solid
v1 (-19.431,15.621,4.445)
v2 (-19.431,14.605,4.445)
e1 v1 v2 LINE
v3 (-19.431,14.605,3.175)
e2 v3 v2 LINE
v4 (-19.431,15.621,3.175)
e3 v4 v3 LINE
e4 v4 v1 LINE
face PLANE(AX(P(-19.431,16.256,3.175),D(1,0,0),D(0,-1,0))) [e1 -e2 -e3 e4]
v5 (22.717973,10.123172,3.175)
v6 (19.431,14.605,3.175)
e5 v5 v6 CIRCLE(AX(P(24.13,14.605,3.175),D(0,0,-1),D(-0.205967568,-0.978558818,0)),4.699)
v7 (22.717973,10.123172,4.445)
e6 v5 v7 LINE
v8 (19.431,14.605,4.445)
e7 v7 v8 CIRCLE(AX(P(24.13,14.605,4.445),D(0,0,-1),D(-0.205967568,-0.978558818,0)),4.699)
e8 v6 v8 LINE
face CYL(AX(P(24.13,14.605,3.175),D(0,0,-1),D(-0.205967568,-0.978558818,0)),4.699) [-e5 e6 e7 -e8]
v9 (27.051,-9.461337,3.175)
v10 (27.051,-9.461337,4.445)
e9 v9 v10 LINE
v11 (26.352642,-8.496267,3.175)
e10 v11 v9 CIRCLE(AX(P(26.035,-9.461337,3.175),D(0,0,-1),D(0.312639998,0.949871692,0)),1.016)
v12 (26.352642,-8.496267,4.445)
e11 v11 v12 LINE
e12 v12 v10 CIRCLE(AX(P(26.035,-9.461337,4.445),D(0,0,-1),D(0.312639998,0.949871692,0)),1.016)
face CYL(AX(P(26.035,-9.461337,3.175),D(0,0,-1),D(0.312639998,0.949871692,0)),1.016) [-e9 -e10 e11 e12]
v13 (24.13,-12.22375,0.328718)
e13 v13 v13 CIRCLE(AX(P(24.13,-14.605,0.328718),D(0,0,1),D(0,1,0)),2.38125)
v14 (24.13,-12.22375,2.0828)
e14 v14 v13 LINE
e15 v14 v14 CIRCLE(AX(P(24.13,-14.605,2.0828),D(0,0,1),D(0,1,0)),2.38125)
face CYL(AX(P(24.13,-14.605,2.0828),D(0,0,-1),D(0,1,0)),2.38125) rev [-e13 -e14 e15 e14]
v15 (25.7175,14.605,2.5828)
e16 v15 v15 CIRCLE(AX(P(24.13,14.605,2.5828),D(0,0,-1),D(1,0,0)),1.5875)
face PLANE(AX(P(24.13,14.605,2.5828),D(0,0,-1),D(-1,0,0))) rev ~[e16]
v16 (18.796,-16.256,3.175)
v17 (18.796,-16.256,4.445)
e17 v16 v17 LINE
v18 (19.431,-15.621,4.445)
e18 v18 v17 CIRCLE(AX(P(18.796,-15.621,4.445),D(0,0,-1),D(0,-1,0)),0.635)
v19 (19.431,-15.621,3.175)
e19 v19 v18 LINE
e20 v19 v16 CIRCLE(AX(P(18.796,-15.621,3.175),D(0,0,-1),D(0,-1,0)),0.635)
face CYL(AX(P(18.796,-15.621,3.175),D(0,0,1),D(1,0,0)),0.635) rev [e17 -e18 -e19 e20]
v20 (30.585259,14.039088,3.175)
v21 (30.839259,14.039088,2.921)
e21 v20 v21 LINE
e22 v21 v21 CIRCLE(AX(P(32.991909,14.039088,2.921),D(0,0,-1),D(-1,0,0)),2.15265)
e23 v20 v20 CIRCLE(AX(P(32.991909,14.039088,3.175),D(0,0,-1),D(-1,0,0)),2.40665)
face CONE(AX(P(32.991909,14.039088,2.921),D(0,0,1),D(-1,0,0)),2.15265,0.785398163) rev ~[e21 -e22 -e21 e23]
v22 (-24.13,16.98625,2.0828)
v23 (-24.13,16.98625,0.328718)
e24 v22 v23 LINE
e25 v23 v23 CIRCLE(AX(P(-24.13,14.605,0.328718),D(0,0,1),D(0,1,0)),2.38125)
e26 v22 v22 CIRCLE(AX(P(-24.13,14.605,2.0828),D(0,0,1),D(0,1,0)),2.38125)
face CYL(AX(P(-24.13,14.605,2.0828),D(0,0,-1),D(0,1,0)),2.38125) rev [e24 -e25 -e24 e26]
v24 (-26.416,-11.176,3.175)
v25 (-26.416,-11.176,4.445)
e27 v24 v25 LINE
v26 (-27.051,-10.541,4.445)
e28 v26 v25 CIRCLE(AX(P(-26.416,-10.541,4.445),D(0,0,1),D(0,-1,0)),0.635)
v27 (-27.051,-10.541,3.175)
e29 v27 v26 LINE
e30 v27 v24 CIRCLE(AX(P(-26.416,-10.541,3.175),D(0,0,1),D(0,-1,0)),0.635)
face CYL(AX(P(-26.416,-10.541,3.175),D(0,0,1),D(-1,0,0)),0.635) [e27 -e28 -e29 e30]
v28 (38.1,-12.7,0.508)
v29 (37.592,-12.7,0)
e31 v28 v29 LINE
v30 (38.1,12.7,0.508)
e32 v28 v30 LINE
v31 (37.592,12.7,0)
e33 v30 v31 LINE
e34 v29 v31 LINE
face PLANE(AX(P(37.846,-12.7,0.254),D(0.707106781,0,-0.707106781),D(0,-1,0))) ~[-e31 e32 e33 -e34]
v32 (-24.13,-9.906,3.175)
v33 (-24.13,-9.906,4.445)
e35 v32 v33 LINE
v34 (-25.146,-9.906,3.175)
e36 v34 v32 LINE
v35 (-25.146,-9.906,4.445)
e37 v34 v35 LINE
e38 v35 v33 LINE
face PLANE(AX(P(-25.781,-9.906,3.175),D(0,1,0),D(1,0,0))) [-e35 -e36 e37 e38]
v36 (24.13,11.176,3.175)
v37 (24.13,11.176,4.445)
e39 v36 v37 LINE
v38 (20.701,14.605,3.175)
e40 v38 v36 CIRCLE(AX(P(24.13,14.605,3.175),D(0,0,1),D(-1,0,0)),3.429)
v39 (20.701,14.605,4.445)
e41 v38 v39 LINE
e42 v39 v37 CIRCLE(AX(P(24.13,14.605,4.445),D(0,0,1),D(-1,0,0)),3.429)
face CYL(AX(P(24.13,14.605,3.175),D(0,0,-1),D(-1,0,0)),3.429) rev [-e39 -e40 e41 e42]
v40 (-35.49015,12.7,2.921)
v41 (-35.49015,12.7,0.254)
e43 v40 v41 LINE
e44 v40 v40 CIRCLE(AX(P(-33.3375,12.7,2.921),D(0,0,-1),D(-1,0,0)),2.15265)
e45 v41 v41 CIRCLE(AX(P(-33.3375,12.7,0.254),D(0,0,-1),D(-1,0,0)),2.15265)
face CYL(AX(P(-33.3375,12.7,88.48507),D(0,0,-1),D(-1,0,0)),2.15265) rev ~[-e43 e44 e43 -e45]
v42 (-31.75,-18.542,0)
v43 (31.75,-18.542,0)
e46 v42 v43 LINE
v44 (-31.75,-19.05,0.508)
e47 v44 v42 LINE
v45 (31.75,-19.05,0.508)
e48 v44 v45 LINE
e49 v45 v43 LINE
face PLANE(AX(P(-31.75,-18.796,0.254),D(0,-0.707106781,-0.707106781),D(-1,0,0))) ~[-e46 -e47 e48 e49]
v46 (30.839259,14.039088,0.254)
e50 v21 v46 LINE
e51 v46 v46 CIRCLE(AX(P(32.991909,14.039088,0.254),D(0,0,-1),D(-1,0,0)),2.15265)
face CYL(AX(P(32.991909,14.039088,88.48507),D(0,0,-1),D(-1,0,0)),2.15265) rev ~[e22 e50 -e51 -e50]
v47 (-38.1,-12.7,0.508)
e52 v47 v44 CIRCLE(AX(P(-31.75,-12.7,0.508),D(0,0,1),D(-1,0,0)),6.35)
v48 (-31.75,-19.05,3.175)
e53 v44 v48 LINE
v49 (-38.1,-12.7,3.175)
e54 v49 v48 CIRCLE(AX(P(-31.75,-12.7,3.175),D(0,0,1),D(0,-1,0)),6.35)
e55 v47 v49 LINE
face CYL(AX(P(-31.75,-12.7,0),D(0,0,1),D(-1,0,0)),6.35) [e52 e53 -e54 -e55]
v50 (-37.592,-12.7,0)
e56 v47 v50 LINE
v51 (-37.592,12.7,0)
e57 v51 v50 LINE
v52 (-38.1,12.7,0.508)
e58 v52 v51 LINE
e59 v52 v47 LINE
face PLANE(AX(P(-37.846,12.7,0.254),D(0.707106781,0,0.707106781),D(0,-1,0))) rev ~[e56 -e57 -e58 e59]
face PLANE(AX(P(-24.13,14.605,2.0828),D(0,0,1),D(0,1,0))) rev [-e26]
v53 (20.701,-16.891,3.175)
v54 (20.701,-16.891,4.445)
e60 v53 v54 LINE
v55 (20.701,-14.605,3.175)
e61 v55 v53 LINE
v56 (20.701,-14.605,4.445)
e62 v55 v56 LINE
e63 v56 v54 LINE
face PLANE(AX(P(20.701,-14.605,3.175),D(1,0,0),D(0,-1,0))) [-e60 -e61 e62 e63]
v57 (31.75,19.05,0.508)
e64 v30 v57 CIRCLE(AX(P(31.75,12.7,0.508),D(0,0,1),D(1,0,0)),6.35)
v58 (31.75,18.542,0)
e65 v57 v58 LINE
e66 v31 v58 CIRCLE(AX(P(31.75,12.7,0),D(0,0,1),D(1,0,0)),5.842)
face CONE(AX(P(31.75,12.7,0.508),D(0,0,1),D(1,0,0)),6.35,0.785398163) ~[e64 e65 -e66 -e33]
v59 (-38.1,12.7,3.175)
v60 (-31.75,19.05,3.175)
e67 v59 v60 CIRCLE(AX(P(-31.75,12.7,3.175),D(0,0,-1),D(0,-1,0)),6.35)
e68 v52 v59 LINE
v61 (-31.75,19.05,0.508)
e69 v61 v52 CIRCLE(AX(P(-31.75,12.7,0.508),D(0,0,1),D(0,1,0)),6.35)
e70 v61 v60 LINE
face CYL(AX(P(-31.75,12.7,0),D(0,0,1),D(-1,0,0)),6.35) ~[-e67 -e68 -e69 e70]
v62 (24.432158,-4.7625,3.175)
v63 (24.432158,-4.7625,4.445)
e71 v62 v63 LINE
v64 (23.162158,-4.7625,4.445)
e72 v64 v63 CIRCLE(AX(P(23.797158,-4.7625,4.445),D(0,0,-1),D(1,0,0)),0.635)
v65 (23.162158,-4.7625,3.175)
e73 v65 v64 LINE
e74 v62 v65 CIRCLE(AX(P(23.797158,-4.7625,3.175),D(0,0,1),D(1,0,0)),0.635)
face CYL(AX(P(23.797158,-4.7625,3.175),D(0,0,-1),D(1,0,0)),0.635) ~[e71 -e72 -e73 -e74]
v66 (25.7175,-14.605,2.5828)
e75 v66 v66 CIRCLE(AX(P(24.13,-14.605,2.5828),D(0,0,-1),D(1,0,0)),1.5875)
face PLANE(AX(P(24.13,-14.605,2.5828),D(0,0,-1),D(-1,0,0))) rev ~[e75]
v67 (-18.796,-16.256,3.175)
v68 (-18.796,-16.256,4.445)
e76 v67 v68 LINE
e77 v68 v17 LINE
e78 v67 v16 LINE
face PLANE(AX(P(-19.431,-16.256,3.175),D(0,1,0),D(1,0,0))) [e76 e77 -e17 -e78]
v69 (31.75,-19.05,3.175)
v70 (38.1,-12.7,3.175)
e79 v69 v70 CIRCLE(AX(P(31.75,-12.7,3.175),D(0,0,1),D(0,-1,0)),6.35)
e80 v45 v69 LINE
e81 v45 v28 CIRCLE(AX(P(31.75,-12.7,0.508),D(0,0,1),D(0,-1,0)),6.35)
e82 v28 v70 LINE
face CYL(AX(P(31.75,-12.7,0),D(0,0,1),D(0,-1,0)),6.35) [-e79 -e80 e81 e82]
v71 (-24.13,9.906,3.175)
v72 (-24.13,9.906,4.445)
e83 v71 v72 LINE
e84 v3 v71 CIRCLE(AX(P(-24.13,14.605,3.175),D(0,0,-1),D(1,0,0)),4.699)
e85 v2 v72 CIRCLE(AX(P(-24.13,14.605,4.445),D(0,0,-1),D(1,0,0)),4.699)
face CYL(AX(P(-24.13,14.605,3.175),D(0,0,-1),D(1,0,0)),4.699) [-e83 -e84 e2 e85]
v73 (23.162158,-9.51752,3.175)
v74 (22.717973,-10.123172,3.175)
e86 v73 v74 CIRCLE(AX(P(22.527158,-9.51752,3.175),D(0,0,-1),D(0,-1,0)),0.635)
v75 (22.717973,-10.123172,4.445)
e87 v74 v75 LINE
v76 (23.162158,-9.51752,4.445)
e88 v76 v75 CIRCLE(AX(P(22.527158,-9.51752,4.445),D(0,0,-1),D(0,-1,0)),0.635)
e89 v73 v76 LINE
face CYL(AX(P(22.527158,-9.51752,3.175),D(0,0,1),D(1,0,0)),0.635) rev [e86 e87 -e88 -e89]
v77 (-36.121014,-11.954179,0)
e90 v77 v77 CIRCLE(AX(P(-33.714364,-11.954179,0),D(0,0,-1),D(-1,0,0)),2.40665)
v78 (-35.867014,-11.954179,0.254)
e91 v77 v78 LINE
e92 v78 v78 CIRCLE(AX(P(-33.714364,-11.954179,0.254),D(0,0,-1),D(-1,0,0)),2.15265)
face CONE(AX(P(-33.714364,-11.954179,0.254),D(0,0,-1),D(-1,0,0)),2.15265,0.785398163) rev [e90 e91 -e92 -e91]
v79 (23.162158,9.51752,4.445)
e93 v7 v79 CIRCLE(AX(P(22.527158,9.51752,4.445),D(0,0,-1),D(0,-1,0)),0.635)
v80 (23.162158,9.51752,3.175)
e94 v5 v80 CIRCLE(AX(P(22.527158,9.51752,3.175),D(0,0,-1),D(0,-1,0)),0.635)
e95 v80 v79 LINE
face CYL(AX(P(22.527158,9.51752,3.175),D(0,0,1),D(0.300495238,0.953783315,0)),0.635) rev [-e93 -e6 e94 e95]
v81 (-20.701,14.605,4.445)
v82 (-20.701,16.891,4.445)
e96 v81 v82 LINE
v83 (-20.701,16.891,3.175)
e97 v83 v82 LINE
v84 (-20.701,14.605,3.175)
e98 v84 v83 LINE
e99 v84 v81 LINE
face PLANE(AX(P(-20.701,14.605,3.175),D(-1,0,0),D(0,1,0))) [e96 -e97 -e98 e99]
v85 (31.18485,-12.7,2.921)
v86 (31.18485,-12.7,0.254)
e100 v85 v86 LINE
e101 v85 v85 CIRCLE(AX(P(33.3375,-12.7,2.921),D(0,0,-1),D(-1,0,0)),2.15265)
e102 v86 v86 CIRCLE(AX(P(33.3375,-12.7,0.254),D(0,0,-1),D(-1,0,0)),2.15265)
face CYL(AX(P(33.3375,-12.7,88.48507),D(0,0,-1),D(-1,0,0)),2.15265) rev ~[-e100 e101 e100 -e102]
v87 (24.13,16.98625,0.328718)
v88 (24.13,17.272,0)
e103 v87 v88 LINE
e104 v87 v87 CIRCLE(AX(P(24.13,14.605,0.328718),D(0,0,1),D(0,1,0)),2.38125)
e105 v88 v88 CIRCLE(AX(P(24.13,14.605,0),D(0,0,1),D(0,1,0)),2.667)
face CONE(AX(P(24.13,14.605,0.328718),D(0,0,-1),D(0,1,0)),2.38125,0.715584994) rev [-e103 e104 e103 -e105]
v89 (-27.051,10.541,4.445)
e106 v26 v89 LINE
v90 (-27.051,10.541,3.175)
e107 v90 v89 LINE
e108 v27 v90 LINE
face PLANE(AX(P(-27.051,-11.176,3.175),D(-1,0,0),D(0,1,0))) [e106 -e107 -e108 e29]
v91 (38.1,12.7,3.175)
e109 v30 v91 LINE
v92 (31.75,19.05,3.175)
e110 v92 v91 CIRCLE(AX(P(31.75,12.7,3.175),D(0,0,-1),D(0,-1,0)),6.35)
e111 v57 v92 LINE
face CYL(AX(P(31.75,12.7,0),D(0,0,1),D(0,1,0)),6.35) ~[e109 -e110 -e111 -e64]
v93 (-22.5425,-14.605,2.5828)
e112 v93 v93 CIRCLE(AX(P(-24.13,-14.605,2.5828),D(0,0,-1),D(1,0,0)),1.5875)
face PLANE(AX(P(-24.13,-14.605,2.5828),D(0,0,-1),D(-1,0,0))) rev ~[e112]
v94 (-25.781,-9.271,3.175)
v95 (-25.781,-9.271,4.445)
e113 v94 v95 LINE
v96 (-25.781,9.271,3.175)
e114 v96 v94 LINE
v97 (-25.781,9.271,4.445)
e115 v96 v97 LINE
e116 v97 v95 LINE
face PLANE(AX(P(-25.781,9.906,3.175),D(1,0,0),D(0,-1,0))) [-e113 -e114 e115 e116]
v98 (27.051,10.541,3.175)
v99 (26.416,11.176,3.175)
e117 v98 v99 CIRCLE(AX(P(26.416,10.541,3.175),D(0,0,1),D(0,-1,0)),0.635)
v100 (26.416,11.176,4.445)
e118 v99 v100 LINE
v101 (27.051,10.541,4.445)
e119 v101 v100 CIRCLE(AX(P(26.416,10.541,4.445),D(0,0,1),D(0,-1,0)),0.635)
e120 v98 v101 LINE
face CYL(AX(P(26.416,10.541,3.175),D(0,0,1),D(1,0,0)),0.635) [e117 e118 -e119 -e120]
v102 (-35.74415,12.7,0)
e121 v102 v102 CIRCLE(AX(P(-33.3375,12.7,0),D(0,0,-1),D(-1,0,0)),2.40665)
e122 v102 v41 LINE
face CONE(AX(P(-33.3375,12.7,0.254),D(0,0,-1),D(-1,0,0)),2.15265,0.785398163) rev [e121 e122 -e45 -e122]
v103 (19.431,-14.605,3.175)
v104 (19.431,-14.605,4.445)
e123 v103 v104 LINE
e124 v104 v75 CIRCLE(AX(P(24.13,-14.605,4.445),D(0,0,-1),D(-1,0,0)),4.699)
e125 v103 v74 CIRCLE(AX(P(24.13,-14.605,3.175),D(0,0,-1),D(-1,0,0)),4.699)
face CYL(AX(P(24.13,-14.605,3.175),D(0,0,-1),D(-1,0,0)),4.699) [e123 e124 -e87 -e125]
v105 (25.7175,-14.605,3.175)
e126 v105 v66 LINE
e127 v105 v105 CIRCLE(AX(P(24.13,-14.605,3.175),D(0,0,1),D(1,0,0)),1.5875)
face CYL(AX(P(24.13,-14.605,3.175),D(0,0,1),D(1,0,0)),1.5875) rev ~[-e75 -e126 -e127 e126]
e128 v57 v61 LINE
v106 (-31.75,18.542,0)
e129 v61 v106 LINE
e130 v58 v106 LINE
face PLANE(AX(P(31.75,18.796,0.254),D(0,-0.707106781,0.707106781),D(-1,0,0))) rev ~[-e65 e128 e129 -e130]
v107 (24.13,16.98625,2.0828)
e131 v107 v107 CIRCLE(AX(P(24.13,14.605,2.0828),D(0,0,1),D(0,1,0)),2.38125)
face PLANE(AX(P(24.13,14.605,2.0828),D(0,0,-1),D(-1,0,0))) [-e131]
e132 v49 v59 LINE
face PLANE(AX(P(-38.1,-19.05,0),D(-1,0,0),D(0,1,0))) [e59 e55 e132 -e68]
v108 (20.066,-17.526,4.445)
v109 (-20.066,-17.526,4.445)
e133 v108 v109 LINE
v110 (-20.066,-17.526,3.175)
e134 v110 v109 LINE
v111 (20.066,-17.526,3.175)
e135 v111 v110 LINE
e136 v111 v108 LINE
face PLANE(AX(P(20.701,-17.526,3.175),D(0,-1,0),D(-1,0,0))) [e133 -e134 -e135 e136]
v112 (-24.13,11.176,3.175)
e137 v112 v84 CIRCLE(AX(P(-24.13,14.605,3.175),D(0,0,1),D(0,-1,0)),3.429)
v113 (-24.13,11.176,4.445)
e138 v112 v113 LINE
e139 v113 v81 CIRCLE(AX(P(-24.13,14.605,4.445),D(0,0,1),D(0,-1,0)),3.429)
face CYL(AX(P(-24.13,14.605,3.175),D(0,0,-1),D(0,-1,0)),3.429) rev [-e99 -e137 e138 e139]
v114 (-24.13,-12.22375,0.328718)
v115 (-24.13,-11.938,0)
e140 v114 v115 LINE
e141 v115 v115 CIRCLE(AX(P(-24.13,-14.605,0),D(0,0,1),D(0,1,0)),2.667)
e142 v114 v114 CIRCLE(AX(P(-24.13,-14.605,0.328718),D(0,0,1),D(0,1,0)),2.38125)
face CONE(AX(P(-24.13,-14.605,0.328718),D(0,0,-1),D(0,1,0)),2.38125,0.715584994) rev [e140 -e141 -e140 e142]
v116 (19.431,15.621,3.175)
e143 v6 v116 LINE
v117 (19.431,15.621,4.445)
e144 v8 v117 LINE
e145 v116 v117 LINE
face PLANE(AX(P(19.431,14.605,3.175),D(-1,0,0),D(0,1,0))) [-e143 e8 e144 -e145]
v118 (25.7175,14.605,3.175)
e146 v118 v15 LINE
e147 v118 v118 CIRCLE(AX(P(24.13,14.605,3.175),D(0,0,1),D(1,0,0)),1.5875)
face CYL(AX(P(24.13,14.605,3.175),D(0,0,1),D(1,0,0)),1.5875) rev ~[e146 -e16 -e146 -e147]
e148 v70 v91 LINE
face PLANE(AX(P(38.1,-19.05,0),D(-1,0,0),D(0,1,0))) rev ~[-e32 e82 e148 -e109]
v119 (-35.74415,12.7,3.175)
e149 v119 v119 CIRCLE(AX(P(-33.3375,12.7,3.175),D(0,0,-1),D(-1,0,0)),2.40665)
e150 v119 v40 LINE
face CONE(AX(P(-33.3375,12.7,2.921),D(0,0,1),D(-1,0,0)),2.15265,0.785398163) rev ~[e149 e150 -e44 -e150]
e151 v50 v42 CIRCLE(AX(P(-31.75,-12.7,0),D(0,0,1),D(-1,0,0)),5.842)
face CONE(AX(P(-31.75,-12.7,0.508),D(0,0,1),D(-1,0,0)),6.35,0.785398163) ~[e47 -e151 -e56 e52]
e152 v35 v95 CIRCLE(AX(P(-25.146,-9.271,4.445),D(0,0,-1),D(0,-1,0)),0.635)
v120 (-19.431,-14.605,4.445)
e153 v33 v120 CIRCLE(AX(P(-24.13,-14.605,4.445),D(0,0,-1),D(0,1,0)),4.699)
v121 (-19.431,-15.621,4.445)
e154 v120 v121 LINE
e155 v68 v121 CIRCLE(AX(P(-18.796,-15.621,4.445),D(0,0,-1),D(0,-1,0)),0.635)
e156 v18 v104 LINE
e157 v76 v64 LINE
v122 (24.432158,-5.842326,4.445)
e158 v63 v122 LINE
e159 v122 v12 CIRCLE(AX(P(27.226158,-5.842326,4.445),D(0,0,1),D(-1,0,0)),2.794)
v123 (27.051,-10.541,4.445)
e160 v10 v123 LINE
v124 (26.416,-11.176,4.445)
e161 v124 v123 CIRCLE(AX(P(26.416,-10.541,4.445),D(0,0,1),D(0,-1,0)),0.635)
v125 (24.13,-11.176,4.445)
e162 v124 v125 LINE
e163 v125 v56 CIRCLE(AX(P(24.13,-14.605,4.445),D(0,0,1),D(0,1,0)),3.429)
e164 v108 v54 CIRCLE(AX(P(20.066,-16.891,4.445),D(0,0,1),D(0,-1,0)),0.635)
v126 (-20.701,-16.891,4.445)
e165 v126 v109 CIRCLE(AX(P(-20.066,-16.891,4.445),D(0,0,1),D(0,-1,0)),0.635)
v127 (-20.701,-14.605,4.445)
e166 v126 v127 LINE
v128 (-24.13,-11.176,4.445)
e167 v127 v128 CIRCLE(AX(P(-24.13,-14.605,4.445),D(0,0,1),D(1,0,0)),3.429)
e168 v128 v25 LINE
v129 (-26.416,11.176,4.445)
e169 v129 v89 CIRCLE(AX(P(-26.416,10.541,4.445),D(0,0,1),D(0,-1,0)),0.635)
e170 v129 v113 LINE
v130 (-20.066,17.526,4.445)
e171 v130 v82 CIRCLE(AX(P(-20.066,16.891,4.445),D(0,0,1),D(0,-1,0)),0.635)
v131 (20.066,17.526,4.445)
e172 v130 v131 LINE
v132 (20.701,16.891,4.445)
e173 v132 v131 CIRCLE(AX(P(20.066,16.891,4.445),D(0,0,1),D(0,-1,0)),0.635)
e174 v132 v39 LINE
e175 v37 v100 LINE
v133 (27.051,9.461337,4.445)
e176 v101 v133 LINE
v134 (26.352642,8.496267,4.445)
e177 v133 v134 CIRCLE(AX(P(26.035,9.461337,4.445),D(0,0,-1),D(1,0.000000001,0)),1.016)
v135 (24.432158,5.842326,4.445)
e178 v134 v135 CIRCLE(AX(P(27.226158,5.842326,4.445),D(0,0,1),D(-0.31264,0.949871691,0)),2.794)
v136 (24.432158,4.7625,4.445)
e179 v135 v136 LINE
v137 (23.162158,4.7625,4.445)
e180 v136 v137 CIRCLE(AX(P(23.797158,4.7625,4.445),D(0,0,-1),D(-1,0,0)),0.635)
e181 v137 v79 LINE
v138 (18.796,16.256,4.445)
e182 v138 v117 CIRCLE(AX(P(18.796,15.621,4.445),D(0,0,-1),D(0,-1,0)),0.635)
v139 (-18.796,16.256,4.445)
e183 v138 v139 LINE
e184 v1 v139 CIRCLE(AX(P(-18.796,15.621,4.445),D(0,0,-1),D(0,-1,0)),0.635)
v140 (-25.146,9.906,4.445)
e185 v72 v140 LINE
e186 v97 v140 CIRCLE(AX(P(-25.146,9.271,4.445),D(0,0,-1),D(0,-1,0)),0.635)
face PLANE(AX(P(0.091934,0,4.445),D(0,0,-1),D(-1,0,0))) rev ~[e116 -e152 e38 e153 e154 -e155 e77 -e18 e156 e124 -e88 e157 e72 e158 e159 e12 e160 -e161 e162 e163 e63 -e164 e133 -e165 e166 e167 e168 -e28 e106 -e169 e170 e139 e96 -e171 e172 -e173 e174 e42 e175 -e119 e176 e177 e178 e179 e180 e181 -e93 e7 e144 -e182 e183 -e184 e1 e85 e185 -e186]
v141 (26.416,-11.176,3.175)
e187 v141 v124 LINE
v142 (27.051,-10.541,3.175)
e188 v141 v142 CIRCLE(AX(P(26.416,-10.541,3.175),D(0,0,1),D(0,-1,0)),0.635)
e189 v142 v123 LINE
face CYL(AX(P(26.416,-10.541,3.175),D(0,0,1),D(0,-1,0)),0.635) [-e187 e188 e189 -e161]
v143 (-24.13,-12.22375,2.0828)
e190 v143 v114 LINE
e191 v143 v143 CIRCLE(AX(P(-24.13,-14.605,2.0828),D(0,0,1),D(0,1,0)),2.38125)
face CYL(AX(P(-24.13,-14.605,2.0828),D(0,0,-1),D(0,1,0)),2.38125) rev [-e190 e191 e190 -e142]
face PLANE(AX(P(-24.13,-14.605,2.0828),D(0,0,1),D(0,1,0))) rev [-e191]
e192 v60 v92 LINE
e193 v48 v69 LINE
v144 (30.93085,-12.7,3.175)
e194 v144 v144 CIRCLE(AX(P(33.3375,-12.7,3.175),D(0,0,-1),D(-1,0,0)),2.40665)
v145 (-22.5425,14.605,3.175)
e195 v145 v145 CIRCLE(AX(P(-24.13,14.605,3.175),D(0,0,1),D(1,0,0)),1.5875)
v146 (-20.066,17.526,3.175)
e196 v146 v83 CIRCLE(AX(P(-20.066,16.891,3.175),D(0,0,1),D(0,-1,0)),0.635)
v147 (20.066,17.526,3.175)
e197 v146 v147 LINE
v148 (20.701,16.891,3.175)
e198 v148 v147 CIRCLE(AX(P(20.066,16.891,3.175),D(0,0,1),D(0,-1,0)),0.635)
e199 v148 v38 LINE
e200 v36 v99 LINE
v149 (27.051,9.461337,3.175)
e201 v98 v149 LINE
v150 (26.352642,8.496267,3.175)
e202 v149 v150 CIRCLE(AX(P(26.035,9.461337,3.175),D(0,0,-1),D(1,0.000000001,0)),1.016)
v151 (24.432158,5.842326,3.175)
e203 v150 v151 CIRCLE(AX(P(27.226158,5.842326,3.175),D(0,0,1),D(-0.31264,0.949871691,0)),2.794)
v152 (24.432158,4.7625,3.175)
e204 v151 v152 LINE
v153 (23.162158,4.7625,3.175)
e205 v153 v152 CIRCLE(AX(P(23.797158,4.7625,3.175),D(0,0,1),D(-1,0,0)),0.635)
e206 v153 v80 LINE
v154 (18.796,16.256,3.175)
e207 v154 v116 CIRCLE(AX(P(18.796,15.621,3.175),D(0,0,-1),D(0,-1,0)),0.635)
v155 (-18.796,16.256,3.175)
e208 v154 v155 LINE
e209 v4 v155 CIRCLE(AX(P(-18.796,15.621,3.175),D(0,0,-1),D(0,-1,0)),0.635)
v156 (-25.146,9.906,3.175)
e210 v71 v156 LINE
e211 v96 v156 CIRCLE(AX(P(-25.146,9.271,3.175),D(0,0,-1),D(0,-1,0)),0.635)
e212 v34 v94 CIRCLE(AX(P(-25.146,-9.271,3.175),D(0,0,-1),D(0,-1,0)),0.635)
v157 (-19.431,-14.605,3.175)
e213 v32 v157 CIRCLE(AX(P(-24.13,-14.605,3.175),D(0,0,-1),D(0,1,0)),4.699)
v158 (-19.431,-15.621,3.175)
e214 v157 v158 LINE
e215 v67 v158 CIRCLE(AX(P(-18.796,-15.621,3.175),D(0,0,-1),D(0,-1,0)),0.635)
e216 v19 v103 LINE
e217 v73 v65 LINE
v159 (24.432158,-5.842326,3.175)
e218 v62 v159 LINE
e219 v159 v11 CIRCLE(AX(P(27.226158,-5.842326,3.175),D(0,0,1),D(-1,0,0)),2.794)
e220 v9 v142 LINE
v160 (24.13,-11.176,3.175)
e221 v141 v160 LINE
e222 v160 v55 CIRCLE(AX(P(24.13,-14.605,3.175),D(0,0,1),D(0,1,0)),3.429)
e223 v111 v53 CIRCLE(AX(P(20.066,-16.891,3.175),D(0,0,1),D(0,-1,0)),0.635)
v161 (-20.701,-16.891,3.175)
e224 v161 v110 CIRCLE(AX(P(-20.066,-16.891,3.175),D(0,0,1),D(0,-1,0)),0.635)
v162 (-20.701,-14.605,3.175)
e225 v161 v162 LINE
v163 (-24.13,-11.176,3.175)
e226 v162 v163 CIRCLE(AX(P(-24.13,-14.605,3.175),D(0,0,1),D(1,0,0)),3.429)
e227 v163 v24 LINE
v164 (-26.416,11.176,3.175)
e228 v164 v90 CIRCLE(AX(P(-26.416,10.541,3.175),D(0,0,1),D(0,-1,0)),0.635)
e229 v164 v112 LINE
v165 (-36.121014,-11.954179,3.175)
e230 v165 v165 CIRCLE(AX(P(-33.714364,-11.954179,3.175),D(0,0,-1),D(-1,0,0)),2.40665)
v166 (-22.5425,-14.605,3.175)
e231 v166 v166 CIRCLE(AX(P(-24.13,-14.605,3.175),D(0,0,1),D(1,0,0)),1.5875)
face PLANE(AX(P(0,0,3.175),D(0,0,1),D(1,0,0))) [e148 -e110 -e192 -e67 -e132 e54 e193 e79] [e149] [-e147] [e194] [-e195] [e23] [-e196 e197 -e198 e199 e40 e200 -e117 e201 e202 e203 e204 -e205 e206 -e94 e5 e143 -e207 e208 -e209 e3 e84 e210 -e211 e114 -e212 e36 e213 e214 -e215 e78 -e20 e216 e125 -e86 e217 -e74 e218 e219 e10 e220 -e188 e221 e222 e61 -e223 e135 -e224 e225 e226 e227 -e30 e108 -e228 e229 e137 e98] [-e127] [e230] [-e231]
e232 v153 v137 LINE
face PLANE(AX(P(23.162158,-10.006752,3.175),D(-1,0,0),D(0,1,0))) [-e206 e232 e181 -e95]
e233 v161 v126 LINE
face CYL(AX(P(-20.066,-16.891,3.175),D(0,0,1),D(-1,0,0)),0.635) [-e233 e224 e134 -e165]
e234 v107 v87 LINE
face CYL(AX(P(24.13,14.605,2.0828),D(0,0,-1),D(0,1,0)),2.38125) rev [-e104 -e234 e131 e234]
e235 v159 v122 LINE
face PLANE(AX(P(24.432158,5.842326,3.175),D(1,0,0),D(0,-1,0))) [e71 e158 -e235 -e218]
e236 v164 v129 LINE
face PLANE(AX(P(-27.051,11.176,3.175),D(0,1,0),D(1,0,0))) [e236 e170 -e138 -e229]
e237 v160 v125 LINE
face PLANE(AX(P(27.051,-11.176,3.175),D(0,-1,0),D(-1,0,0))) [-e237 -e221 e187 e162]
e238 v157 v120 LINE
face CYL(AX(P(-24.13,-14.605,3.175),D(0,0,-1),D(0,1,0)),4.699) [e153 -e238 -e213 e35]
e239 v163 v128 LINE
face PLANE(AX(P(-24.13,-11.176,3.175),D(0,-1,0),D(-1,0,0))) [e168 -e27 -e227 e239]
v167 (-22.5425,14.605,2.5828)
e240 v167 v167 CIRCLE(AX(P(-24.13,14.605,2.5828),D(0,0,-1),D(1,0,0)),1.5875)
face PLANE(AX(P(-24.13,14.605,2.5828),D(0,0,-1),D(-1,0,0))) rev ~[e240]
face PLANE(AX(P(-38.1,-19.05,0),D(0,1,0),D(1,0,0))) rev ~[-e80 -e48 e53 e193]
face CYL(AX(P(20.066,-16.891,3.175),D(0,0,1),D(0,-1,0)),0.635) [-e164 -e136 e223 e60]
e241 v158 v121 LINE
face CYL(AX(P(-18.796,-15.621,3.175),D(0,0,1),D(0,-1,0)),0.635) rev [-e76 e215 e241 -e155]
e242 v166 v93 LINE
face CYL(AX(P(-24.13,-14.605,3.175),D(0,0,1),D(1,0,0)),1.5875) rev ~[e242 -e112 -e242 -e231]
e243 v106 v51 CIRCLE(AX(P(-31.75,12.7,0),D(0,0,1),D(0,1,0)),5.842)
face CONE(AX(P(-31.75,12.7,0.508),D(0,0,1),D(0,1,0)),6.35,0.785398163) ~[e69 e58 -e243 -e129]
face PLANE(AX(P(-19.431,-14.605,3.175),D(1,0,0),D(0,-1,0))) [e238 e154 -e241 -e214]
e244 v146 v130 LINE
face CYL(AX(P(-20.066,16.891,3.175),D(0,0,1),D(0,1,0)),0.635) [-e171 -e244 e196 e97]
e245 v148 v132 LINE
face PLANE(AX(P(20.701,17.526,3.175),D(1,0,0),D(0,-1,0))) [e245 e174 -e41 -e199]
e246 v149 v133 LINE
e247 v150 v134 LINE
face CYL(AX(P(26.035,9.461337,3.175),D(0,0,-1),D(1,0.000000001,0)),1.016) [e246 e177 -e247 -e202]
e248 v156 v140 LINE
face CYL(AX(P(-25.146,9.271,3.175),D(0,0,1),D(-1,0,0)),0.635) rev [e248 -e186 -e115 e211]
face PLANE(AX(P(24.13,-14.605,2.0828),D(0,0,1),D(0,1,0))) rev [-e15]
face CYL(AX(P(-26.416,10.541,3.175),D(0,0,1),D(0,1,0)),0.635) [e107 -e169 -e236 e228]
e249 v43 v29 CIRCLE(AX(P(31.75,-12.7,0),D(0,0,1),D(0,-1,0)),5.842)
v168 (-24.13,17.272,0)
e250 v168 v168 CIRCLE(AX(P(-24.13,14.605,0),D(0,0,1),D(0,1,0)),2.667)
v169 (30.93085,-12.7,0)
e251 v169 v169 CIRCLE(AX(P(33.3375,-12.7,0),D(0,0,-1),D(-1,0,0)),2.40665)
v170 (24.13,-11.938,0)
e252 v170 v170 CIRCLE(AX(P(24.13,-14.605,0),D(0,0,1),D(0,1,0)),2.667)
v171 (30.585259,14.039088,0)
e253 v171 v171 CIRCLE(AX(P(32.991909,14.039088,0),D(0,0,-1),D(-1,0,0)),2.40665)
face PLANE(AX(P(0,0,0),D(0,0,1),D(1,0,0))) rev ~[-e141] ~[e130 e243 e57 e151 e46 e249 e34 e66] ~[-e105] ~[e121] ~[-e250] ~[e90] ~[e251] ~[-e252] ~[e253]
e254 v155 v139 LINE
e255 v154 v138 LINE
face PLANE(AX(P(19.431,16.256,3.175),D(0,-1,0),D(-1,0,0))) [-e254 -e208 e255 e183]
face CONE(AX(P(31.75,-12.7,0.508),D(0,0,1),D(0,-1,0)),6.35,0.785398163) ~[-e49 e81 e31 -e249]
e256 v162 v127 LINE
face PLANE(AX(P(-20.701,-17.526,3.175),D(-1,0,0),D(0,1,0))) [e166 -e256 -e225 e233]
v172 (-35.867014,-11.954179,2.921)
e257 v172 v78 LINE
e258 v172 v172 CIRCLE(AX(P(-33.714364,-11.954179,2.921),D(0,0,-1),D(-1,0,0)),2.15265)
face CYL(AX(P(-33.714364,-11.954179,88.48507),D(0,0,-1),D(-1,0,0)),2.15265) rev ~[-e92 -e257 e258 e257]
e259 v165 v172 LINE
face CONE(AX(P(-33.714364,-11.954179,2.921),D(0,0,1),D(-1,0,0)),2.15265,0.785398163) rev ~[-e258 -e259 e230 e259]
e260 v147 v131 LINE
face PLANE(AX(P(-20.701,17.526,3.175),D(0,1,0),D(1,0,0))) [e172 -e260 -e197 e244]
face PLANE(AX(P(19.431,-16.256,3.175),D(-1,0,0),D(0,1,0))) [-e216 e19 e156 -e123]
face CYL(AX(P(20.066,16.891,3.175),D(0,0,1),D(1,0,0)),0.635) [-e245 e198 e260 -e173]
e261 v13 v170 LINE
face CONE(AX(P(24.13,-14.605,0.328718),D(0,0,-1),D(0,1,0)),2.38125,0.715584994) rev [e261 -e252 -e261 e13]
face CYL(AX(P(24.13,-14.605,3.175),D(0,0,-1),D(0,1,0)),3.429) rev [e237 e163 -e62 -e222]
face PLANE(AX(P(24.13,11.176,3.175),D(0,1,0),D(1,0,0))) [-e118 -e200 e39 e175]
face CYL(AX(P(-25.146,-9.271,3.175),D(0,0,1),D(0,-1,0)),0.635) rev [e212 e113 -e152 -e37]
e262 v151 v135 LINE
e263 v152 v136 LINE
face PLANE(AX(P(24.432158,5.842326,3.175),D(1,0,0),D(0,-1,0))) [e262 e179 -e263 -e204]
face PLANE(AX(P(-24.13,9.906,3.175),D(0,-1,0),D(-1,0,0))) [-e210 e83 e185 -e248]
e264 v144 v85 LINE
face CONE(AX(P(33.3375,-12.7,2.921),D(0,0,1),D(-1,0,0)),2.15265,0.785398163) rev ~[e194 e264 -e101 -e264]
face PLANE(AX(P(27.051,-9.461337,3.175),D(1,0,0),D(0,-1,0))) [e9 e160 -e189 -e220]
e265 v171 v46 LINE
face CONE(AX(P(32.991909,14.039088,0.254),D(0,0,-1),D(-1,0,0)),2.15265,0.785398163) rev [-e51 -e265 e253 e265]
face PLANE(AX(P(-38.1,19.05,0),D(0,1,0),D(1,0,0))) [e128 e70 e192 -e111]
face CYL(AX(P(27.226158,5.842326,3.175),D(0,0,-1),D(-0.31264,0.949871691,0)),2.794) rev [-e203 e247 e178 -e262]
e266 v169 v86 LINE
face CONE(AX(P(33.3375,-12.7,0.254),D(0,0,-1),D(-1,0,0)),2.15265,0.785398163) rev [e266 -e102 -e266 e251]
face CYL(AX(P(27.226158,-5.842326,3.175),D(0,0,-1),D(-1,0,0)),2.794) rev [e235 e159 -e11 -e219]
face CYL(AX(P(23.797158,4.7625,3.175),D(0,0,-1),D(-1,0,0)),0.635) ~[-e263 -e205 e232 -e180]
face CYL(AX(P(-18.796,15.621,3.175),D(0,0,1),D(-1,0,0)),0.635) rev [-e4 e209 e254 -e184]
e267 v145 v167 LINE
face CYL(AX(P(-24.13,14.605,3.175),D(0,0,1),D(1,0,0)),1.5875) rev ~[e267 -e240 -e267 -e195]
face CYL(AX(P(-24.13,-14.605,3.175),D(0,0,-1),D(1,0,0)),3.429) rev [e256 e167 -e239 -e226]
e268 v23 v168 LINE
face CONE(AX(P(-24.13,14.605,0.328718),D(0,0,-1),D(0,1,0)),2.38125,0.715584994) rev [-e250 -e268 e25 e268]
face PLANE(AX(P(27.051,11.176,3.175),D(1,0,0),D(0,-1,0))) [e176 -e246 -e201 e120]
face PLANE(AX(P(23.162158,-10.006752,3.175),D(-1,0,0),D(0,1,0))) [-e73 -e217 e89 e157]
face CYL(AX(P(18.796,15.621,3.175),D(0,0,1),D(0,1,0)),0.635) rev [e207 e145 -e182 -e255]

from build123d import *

# Parameters (mm, degrees)
SKETCH1_W                                    = 76.2
SKETCH1_H                                    = 38.1
BOSS_EXTRUDE1_DEPTH                          = 3.175
SKETCH4_R                                    = 1.5875
CUT_EXTRUDE1_DEPTH                           = 4.175
CBORE_FOR_2_PAN_HEAD_MACHINE_SCREW1_AT_COUNT = 2
CBORE_FOR_2_PAN_HEAD_MACHINE_SCREW1_AT_PITCH = 29.21
CBORE_FOR_2_PAN_HEAD_MACHINE_SCREW1_2_COUNT  = 2
CBORE_FOR_2_PAN_HEAD_MACHINE_SCREW1_2_PITCH  = 56.411450079
CBORE_FOR_2_PAN_HEAD_MACHINE_SCREW1_3_COUNT  = 2
CBORE_FOR_2_PAN_HEAD_MACHINE_SCREW1_3_PITCH  = 48.26
BOSS_EXTRUDE3_DEPTH                          = 1.27
FILLET1_R                                    = 6.35
FILLET2_R                                    = 0.635
FILLET3_R                                    = 0.635
F_6_CLEARANCE_HOLE1_D                        = 4.3053
CHAMFER1_SIZE                                = 0.508
CHAMFER2_SIZE                                = 0.254
CUT_EXTRUDE2_DEPTH                           = 2.27
SKETCH12_R                                   = 1.5875
BOSS_EXTRUDE4_DEPTH                          = 0.5


with BuildPart() as part:
    # Sketch1 → Boss-Extrude1 (new body)
    with BuildSketch(Plane.XY):
        Rectangle(SKETCH1_W, SKETCH1_H)
    extrude(amount=BOSS_EXTRUDE1_DEPTH)

    # Sketch4 → Cut-Extrude1 (cut, through all)
    with BuildSketch(Plane.XY.offset(3.175)):
        with Locations((24.13, -14.605)):
            Circle(SKETCH4_R)
        with Locations((24.13, 14.605)):
            Circle(SKETCH4_R)
        with Locations((-24.13, 14.605)):
            Circle(SKETCH4_R)
        with Locations((-24.13, -14.605)):
            Circle(SKETCH4_R)
    extrude(amount=-CUT_EXTRUDE1_DEPTH, mode=Mode.SUBTRACT)

    # Sketch7 → CBORE for #2 Pan Head Machine Screw1 (revolve, cut)
    with BuildSketch(Plane(origin=(24.13, 14.605, 0), x_dir=(0, 1, 0), z_dir=(1, 0, 0))):
        Polygon((0, 0), (0, 3.175), (1.35255, 3.175), (1.35255, 2.0828), (2.38125, 2.0828), (2.38125, 0.328717772), (2.667, 0), align=None)
    cbore_for_2_pan_head_machine_screw1 = revolve(axis=Axis((24.13, 14.605, -6.35), (0, 0, 1)), mode=Mode.SUBTRACT)

    # CBORE for #2 Pan Head Machine Screw1 at: CBORE for #2 Pan Head Machine Screw1 ×2
    with Locations(*[(0, -i * CBORE_FOR_2_PAN_HEAD_MACHINE_SCREW1_AT_PITCH, 0) for i in range(1, CBORE_FOR_2_PAN_HEAD_MACHINE_SCREW1_AT_COUNT)]):
        add(cbore_for_2_pan_head_machine_screw1, mode=Mode.SUBTRACT)

    # CBORE for _2 Pan Head Machine Screw1 2: CBORE for #2 Pan Head Machine Screw1 ×2
    with Locations(*[Vector(-0.855500079, -0.517802679, 0) * (i * CBORE_FOR_2_PAN_HEAD_MACHINE_SCREW1_2_PITCH) for i in range(1, CBORE_FOR_2_PAN_HEAD_MACHINE_SCREW1_2_COUNT)]):
        add(cbore_for_2_pan_head_machine_screw1, mode=Mode.SUBTRACT)

    # CBORE for _2 Pan Head Machine Screw1 3: CBORE for #2 Pan Head Machine Screw1 ×2
    with Locations(*[(-i * CBORE_FOR_2_PAN_HEAD_MACHINE_SCREW1_3_PITCH, 0, 0) for i in range(1, CBORE_FOR_2_PAN_HEAD_MACHINE_SCREW1_3_COUNT)]):
        add(cbore_for_2_pan_head_machine_screw1, mode=Mode.SUBTRACT)

    # Sketch5 → Boss-Extrude3 (add)
    with BuildSketch(Plane.XY.offset(3.175)):
        with BuildLine():
            ThreePointArc((-24.13, 11.176), (-21.705330847, 12.180330847), (-20.701, 14.605))
            Line((-20.701, 14.605), (-20.701, 17.526))
            Line((-20.701, 17.526), (20.701, 17.526))
            Line((20.701, 17.526), (20.701, 14.605))
            ThreePointArc((20.701, 14.605), (21.705330847, 12.180330847), (24.13, 11.176))
            Line((24.13, 11.176), (27.051, 11.176))
            Line((27.051, 11.176), (27.051, 9.461337048))
            ThreePointArc((27.051, 9.461337048), (26.858097964, 8.865714901), (26.35264224, 8.49626741))
            ThreePointArc((26.35264224, 8.49626741), (24.962639, 7.480286808), (24.4321584, 5.842325903))
            Line((24.4321584, 5.842325903), (24.4321584, -5.842325903))
            ThreePointArc((24.4321584, -5.842325903), (24.962639, -7.480286808), (26.35264224, -8.49626741))
            ThreePointArc((26.35264224, -8.49626741), (26.858097964, -8.865714901), (27.051, -9.461337048))
            Line((27.051, -9.461337048), (27.051, -11.176))
            Line((27.051, -11.176), (24.13, -11.176))
            ThreePointArc((24.13, -11.176), (21.705330847, -12.180330847), (20.701, -14.605))
            Line((20.701, -14.605), (20.701, -17.526))
            Line((20.701, -17.526), (-20.701, -17.526))
            Line((-20.701, -17.526), (-20.701, -14.605))
            ThreePointArc((-20.701, -14.605), (-21.705330847, -12.180330847), (-24.13, -11.176))
            Line((-24.13, -11.176), (-27.051, -11.176))
            Line((-27.051, -11.176), (-27.051, 11.176))
            Line((-27.051, 11.176), (-24.13, 11.176))
        make_face()
        with BuildLine():
            ThreePointArc((19.431, -14.605), (20.481131088, -11.644196619), (23.1621584, -10.006752112))
            Line((23.1621584, -10.006752112), (23.1621584, 10.006752112))
            ThreePointArc((23.1621584, 10.006752112), (20.481131088, 11.644196619), (19.431, 14.605))
            Line((19.431, 14.605), (19.431, 16.256))
            Line((19.431, 16.256), (-19.431, 16.256))
            Line((-19.431, 16.256), (-19.431, 14.605))
            ThreePointArc((-19.431, 14.605), (-20.807305235, 11.282305235), (-24.13, 9.906))
            Line((-24.13, 9.906), (-25.781, 9.906))
            Line((-25.781, 9.906), (-25.781, -9.906))
            Line((-25.781, -9.906), (-24.13, -9.906))
            ThreePointArc((-24.13, -9.906), (-20.807305235, -11.282305235), (-19.431, -14.605))
            Line((-19.431, -14.605), (-19.431, -16.256))
            Line((-19.431, -16.256), (19.431, -16.256))
            Line((19.431, -16.256), (19.431, -14.605))
        make_face(mode=Mode.SUBTRACT)
    extrude(amount=BOSS_EXTRUDE3_DEPTH)

    # Fillet1
    fillet1_edges = [part.edges().sort_by_distance(p)[0] for p in [
        (-38.1, 19.05, 1.5875),
        (38.1, 19.05, 1.5875),
        (38.1, -19.05, 1.5875),
        (-38.1, -19.05, 1.5875),
    ]]
    fillet(fillet1_edges, radius=FILLET1_R)

    # Fillet2
    fillet2_edges = [part.edges().sort_by_distance(p)[0] for p in [
        (-27.051, 11.176, 3.81),
        (-27.051, -11.176, 3.81),
        (-20.701, -17.526, 3.81),
        (20.701, -17.526, 3.81),
        (27.051, -11.176, 3.81),
        (27.051, 11.176, 3.81),
        (20.701, 17.526, 3.81),
        (-20.701, 17.526, 3.81),
    ]]
    fillet(fillet2_edges, radius=FILLET2_R)

    # Fillet3
    fillet3_edges = [part.edges().sort_by_distance(p)[0] for p in [
        (23.1621584, -10.006752112, 3.81),
        (19.431, -16.256, 3.81),
        (-19.431, -16.256, 3.81),
        (-25.781, -9.906, 3.81),
        (-25.781, 9.906, 3.81),
        (-19.431, 16.256, 3.81),
        (19.431, 16.256, 3.81),
        (23.1621584, 10.006752112, 3.81),
    ]]
    fillet(fillet3_edges, radius=FILLET3_R)

    # #6 Clearance Hole1 (through all)
    with Locations(Plane.XY.offset(3.175)):
        with Locations((-33.3375, 12.7), (-33.714363812, -11.954179128), (32.991908684, 14.039088205), (33.3375, -12.7)):
            Hole(F_6_CLEARANCE_HOLE1_D / 2)

    # Chamfer1
    chamfer1_edges = [part.edges().sort_by_distance(p)[0] for p in [
        (38.1, 0, 0),
        (-38.1, 0, 0),
        (0, 19.05, 0),
        (0, -19.05, 0),
        (-36.240128061, -17.190128061, 0),
        (-36.240128061, 17.190128061, 0),
        (36.240128061, 17.190128061, 0),
        (36.240128061, -17.190128061, 0),
    ]]
    chamfer(chamfer1_edges, length=CHAMFER1_SIZE)

    # Chamfer2
    chamfer2_edges = [part.edges().sort_by_distance(p)[0] for p in [
        (35.49015, -12.7, 3.175),
        (35.49015, -12.7, 0),
        (35.144558684, 14.039088205, 3.175),
        (35.144558684, 14.039088205, 0),
        (-31.561713812, -11.954179128, 3.175),
        (-31.561713812, -11.954179128, 0),
        (-31.18485, 12.7, 3.175),
        (-31.18485, 12.7, 0),
    ]]
    chamfer(chamfer2_edges, length=CHAMFER2_SIZE)

    # Sketch11 → Cut-Extrude2 (cut, through all)
    with BuildSketch(Plane.XY.offset(3.175)):
        with BuildLine():
            Line((24.4321584, 4.7625), (24.4321584, -4.7625))
            ThreePointArc((24.4321584, -4.7625), (23.7971584, -4.1275), (23.1621584, -4.7625))
            Line((23.1621584, -4.7625), (23.1621584, 4.7625))
            ThreePointArc((23.1621584, 4.7625), (23.7971584, 4.1275), (24.4321584, 4.7625))
        make_face()
    extrude(amount=CUT_EXTRUDE2_DEPTH, mode=Mode.SUBTRACT)

    # Sketch12 → Boss-Extrude4 (add)
    with BuildSketch(Plane(origin=(0, 0, 2.0828), x_dir=(-1, 0, 0), z_dir=(0, 0, -1))):
        with Locations((-24.13, 14.605)):
            Circle(SKETCH12_R)
        with Locations((24.13, 14.605)):
            Circle(SKETCH12_R)
        with Locations((24.13, -14.605)):
            Circle(SKETCH12_R)
        with Locations((-24.13, -14.605)):
            Circle(SKETCH12_R)
    extrude(amount=-BOSS_EXTRUDE4_DEPTH)


solid = part.part
